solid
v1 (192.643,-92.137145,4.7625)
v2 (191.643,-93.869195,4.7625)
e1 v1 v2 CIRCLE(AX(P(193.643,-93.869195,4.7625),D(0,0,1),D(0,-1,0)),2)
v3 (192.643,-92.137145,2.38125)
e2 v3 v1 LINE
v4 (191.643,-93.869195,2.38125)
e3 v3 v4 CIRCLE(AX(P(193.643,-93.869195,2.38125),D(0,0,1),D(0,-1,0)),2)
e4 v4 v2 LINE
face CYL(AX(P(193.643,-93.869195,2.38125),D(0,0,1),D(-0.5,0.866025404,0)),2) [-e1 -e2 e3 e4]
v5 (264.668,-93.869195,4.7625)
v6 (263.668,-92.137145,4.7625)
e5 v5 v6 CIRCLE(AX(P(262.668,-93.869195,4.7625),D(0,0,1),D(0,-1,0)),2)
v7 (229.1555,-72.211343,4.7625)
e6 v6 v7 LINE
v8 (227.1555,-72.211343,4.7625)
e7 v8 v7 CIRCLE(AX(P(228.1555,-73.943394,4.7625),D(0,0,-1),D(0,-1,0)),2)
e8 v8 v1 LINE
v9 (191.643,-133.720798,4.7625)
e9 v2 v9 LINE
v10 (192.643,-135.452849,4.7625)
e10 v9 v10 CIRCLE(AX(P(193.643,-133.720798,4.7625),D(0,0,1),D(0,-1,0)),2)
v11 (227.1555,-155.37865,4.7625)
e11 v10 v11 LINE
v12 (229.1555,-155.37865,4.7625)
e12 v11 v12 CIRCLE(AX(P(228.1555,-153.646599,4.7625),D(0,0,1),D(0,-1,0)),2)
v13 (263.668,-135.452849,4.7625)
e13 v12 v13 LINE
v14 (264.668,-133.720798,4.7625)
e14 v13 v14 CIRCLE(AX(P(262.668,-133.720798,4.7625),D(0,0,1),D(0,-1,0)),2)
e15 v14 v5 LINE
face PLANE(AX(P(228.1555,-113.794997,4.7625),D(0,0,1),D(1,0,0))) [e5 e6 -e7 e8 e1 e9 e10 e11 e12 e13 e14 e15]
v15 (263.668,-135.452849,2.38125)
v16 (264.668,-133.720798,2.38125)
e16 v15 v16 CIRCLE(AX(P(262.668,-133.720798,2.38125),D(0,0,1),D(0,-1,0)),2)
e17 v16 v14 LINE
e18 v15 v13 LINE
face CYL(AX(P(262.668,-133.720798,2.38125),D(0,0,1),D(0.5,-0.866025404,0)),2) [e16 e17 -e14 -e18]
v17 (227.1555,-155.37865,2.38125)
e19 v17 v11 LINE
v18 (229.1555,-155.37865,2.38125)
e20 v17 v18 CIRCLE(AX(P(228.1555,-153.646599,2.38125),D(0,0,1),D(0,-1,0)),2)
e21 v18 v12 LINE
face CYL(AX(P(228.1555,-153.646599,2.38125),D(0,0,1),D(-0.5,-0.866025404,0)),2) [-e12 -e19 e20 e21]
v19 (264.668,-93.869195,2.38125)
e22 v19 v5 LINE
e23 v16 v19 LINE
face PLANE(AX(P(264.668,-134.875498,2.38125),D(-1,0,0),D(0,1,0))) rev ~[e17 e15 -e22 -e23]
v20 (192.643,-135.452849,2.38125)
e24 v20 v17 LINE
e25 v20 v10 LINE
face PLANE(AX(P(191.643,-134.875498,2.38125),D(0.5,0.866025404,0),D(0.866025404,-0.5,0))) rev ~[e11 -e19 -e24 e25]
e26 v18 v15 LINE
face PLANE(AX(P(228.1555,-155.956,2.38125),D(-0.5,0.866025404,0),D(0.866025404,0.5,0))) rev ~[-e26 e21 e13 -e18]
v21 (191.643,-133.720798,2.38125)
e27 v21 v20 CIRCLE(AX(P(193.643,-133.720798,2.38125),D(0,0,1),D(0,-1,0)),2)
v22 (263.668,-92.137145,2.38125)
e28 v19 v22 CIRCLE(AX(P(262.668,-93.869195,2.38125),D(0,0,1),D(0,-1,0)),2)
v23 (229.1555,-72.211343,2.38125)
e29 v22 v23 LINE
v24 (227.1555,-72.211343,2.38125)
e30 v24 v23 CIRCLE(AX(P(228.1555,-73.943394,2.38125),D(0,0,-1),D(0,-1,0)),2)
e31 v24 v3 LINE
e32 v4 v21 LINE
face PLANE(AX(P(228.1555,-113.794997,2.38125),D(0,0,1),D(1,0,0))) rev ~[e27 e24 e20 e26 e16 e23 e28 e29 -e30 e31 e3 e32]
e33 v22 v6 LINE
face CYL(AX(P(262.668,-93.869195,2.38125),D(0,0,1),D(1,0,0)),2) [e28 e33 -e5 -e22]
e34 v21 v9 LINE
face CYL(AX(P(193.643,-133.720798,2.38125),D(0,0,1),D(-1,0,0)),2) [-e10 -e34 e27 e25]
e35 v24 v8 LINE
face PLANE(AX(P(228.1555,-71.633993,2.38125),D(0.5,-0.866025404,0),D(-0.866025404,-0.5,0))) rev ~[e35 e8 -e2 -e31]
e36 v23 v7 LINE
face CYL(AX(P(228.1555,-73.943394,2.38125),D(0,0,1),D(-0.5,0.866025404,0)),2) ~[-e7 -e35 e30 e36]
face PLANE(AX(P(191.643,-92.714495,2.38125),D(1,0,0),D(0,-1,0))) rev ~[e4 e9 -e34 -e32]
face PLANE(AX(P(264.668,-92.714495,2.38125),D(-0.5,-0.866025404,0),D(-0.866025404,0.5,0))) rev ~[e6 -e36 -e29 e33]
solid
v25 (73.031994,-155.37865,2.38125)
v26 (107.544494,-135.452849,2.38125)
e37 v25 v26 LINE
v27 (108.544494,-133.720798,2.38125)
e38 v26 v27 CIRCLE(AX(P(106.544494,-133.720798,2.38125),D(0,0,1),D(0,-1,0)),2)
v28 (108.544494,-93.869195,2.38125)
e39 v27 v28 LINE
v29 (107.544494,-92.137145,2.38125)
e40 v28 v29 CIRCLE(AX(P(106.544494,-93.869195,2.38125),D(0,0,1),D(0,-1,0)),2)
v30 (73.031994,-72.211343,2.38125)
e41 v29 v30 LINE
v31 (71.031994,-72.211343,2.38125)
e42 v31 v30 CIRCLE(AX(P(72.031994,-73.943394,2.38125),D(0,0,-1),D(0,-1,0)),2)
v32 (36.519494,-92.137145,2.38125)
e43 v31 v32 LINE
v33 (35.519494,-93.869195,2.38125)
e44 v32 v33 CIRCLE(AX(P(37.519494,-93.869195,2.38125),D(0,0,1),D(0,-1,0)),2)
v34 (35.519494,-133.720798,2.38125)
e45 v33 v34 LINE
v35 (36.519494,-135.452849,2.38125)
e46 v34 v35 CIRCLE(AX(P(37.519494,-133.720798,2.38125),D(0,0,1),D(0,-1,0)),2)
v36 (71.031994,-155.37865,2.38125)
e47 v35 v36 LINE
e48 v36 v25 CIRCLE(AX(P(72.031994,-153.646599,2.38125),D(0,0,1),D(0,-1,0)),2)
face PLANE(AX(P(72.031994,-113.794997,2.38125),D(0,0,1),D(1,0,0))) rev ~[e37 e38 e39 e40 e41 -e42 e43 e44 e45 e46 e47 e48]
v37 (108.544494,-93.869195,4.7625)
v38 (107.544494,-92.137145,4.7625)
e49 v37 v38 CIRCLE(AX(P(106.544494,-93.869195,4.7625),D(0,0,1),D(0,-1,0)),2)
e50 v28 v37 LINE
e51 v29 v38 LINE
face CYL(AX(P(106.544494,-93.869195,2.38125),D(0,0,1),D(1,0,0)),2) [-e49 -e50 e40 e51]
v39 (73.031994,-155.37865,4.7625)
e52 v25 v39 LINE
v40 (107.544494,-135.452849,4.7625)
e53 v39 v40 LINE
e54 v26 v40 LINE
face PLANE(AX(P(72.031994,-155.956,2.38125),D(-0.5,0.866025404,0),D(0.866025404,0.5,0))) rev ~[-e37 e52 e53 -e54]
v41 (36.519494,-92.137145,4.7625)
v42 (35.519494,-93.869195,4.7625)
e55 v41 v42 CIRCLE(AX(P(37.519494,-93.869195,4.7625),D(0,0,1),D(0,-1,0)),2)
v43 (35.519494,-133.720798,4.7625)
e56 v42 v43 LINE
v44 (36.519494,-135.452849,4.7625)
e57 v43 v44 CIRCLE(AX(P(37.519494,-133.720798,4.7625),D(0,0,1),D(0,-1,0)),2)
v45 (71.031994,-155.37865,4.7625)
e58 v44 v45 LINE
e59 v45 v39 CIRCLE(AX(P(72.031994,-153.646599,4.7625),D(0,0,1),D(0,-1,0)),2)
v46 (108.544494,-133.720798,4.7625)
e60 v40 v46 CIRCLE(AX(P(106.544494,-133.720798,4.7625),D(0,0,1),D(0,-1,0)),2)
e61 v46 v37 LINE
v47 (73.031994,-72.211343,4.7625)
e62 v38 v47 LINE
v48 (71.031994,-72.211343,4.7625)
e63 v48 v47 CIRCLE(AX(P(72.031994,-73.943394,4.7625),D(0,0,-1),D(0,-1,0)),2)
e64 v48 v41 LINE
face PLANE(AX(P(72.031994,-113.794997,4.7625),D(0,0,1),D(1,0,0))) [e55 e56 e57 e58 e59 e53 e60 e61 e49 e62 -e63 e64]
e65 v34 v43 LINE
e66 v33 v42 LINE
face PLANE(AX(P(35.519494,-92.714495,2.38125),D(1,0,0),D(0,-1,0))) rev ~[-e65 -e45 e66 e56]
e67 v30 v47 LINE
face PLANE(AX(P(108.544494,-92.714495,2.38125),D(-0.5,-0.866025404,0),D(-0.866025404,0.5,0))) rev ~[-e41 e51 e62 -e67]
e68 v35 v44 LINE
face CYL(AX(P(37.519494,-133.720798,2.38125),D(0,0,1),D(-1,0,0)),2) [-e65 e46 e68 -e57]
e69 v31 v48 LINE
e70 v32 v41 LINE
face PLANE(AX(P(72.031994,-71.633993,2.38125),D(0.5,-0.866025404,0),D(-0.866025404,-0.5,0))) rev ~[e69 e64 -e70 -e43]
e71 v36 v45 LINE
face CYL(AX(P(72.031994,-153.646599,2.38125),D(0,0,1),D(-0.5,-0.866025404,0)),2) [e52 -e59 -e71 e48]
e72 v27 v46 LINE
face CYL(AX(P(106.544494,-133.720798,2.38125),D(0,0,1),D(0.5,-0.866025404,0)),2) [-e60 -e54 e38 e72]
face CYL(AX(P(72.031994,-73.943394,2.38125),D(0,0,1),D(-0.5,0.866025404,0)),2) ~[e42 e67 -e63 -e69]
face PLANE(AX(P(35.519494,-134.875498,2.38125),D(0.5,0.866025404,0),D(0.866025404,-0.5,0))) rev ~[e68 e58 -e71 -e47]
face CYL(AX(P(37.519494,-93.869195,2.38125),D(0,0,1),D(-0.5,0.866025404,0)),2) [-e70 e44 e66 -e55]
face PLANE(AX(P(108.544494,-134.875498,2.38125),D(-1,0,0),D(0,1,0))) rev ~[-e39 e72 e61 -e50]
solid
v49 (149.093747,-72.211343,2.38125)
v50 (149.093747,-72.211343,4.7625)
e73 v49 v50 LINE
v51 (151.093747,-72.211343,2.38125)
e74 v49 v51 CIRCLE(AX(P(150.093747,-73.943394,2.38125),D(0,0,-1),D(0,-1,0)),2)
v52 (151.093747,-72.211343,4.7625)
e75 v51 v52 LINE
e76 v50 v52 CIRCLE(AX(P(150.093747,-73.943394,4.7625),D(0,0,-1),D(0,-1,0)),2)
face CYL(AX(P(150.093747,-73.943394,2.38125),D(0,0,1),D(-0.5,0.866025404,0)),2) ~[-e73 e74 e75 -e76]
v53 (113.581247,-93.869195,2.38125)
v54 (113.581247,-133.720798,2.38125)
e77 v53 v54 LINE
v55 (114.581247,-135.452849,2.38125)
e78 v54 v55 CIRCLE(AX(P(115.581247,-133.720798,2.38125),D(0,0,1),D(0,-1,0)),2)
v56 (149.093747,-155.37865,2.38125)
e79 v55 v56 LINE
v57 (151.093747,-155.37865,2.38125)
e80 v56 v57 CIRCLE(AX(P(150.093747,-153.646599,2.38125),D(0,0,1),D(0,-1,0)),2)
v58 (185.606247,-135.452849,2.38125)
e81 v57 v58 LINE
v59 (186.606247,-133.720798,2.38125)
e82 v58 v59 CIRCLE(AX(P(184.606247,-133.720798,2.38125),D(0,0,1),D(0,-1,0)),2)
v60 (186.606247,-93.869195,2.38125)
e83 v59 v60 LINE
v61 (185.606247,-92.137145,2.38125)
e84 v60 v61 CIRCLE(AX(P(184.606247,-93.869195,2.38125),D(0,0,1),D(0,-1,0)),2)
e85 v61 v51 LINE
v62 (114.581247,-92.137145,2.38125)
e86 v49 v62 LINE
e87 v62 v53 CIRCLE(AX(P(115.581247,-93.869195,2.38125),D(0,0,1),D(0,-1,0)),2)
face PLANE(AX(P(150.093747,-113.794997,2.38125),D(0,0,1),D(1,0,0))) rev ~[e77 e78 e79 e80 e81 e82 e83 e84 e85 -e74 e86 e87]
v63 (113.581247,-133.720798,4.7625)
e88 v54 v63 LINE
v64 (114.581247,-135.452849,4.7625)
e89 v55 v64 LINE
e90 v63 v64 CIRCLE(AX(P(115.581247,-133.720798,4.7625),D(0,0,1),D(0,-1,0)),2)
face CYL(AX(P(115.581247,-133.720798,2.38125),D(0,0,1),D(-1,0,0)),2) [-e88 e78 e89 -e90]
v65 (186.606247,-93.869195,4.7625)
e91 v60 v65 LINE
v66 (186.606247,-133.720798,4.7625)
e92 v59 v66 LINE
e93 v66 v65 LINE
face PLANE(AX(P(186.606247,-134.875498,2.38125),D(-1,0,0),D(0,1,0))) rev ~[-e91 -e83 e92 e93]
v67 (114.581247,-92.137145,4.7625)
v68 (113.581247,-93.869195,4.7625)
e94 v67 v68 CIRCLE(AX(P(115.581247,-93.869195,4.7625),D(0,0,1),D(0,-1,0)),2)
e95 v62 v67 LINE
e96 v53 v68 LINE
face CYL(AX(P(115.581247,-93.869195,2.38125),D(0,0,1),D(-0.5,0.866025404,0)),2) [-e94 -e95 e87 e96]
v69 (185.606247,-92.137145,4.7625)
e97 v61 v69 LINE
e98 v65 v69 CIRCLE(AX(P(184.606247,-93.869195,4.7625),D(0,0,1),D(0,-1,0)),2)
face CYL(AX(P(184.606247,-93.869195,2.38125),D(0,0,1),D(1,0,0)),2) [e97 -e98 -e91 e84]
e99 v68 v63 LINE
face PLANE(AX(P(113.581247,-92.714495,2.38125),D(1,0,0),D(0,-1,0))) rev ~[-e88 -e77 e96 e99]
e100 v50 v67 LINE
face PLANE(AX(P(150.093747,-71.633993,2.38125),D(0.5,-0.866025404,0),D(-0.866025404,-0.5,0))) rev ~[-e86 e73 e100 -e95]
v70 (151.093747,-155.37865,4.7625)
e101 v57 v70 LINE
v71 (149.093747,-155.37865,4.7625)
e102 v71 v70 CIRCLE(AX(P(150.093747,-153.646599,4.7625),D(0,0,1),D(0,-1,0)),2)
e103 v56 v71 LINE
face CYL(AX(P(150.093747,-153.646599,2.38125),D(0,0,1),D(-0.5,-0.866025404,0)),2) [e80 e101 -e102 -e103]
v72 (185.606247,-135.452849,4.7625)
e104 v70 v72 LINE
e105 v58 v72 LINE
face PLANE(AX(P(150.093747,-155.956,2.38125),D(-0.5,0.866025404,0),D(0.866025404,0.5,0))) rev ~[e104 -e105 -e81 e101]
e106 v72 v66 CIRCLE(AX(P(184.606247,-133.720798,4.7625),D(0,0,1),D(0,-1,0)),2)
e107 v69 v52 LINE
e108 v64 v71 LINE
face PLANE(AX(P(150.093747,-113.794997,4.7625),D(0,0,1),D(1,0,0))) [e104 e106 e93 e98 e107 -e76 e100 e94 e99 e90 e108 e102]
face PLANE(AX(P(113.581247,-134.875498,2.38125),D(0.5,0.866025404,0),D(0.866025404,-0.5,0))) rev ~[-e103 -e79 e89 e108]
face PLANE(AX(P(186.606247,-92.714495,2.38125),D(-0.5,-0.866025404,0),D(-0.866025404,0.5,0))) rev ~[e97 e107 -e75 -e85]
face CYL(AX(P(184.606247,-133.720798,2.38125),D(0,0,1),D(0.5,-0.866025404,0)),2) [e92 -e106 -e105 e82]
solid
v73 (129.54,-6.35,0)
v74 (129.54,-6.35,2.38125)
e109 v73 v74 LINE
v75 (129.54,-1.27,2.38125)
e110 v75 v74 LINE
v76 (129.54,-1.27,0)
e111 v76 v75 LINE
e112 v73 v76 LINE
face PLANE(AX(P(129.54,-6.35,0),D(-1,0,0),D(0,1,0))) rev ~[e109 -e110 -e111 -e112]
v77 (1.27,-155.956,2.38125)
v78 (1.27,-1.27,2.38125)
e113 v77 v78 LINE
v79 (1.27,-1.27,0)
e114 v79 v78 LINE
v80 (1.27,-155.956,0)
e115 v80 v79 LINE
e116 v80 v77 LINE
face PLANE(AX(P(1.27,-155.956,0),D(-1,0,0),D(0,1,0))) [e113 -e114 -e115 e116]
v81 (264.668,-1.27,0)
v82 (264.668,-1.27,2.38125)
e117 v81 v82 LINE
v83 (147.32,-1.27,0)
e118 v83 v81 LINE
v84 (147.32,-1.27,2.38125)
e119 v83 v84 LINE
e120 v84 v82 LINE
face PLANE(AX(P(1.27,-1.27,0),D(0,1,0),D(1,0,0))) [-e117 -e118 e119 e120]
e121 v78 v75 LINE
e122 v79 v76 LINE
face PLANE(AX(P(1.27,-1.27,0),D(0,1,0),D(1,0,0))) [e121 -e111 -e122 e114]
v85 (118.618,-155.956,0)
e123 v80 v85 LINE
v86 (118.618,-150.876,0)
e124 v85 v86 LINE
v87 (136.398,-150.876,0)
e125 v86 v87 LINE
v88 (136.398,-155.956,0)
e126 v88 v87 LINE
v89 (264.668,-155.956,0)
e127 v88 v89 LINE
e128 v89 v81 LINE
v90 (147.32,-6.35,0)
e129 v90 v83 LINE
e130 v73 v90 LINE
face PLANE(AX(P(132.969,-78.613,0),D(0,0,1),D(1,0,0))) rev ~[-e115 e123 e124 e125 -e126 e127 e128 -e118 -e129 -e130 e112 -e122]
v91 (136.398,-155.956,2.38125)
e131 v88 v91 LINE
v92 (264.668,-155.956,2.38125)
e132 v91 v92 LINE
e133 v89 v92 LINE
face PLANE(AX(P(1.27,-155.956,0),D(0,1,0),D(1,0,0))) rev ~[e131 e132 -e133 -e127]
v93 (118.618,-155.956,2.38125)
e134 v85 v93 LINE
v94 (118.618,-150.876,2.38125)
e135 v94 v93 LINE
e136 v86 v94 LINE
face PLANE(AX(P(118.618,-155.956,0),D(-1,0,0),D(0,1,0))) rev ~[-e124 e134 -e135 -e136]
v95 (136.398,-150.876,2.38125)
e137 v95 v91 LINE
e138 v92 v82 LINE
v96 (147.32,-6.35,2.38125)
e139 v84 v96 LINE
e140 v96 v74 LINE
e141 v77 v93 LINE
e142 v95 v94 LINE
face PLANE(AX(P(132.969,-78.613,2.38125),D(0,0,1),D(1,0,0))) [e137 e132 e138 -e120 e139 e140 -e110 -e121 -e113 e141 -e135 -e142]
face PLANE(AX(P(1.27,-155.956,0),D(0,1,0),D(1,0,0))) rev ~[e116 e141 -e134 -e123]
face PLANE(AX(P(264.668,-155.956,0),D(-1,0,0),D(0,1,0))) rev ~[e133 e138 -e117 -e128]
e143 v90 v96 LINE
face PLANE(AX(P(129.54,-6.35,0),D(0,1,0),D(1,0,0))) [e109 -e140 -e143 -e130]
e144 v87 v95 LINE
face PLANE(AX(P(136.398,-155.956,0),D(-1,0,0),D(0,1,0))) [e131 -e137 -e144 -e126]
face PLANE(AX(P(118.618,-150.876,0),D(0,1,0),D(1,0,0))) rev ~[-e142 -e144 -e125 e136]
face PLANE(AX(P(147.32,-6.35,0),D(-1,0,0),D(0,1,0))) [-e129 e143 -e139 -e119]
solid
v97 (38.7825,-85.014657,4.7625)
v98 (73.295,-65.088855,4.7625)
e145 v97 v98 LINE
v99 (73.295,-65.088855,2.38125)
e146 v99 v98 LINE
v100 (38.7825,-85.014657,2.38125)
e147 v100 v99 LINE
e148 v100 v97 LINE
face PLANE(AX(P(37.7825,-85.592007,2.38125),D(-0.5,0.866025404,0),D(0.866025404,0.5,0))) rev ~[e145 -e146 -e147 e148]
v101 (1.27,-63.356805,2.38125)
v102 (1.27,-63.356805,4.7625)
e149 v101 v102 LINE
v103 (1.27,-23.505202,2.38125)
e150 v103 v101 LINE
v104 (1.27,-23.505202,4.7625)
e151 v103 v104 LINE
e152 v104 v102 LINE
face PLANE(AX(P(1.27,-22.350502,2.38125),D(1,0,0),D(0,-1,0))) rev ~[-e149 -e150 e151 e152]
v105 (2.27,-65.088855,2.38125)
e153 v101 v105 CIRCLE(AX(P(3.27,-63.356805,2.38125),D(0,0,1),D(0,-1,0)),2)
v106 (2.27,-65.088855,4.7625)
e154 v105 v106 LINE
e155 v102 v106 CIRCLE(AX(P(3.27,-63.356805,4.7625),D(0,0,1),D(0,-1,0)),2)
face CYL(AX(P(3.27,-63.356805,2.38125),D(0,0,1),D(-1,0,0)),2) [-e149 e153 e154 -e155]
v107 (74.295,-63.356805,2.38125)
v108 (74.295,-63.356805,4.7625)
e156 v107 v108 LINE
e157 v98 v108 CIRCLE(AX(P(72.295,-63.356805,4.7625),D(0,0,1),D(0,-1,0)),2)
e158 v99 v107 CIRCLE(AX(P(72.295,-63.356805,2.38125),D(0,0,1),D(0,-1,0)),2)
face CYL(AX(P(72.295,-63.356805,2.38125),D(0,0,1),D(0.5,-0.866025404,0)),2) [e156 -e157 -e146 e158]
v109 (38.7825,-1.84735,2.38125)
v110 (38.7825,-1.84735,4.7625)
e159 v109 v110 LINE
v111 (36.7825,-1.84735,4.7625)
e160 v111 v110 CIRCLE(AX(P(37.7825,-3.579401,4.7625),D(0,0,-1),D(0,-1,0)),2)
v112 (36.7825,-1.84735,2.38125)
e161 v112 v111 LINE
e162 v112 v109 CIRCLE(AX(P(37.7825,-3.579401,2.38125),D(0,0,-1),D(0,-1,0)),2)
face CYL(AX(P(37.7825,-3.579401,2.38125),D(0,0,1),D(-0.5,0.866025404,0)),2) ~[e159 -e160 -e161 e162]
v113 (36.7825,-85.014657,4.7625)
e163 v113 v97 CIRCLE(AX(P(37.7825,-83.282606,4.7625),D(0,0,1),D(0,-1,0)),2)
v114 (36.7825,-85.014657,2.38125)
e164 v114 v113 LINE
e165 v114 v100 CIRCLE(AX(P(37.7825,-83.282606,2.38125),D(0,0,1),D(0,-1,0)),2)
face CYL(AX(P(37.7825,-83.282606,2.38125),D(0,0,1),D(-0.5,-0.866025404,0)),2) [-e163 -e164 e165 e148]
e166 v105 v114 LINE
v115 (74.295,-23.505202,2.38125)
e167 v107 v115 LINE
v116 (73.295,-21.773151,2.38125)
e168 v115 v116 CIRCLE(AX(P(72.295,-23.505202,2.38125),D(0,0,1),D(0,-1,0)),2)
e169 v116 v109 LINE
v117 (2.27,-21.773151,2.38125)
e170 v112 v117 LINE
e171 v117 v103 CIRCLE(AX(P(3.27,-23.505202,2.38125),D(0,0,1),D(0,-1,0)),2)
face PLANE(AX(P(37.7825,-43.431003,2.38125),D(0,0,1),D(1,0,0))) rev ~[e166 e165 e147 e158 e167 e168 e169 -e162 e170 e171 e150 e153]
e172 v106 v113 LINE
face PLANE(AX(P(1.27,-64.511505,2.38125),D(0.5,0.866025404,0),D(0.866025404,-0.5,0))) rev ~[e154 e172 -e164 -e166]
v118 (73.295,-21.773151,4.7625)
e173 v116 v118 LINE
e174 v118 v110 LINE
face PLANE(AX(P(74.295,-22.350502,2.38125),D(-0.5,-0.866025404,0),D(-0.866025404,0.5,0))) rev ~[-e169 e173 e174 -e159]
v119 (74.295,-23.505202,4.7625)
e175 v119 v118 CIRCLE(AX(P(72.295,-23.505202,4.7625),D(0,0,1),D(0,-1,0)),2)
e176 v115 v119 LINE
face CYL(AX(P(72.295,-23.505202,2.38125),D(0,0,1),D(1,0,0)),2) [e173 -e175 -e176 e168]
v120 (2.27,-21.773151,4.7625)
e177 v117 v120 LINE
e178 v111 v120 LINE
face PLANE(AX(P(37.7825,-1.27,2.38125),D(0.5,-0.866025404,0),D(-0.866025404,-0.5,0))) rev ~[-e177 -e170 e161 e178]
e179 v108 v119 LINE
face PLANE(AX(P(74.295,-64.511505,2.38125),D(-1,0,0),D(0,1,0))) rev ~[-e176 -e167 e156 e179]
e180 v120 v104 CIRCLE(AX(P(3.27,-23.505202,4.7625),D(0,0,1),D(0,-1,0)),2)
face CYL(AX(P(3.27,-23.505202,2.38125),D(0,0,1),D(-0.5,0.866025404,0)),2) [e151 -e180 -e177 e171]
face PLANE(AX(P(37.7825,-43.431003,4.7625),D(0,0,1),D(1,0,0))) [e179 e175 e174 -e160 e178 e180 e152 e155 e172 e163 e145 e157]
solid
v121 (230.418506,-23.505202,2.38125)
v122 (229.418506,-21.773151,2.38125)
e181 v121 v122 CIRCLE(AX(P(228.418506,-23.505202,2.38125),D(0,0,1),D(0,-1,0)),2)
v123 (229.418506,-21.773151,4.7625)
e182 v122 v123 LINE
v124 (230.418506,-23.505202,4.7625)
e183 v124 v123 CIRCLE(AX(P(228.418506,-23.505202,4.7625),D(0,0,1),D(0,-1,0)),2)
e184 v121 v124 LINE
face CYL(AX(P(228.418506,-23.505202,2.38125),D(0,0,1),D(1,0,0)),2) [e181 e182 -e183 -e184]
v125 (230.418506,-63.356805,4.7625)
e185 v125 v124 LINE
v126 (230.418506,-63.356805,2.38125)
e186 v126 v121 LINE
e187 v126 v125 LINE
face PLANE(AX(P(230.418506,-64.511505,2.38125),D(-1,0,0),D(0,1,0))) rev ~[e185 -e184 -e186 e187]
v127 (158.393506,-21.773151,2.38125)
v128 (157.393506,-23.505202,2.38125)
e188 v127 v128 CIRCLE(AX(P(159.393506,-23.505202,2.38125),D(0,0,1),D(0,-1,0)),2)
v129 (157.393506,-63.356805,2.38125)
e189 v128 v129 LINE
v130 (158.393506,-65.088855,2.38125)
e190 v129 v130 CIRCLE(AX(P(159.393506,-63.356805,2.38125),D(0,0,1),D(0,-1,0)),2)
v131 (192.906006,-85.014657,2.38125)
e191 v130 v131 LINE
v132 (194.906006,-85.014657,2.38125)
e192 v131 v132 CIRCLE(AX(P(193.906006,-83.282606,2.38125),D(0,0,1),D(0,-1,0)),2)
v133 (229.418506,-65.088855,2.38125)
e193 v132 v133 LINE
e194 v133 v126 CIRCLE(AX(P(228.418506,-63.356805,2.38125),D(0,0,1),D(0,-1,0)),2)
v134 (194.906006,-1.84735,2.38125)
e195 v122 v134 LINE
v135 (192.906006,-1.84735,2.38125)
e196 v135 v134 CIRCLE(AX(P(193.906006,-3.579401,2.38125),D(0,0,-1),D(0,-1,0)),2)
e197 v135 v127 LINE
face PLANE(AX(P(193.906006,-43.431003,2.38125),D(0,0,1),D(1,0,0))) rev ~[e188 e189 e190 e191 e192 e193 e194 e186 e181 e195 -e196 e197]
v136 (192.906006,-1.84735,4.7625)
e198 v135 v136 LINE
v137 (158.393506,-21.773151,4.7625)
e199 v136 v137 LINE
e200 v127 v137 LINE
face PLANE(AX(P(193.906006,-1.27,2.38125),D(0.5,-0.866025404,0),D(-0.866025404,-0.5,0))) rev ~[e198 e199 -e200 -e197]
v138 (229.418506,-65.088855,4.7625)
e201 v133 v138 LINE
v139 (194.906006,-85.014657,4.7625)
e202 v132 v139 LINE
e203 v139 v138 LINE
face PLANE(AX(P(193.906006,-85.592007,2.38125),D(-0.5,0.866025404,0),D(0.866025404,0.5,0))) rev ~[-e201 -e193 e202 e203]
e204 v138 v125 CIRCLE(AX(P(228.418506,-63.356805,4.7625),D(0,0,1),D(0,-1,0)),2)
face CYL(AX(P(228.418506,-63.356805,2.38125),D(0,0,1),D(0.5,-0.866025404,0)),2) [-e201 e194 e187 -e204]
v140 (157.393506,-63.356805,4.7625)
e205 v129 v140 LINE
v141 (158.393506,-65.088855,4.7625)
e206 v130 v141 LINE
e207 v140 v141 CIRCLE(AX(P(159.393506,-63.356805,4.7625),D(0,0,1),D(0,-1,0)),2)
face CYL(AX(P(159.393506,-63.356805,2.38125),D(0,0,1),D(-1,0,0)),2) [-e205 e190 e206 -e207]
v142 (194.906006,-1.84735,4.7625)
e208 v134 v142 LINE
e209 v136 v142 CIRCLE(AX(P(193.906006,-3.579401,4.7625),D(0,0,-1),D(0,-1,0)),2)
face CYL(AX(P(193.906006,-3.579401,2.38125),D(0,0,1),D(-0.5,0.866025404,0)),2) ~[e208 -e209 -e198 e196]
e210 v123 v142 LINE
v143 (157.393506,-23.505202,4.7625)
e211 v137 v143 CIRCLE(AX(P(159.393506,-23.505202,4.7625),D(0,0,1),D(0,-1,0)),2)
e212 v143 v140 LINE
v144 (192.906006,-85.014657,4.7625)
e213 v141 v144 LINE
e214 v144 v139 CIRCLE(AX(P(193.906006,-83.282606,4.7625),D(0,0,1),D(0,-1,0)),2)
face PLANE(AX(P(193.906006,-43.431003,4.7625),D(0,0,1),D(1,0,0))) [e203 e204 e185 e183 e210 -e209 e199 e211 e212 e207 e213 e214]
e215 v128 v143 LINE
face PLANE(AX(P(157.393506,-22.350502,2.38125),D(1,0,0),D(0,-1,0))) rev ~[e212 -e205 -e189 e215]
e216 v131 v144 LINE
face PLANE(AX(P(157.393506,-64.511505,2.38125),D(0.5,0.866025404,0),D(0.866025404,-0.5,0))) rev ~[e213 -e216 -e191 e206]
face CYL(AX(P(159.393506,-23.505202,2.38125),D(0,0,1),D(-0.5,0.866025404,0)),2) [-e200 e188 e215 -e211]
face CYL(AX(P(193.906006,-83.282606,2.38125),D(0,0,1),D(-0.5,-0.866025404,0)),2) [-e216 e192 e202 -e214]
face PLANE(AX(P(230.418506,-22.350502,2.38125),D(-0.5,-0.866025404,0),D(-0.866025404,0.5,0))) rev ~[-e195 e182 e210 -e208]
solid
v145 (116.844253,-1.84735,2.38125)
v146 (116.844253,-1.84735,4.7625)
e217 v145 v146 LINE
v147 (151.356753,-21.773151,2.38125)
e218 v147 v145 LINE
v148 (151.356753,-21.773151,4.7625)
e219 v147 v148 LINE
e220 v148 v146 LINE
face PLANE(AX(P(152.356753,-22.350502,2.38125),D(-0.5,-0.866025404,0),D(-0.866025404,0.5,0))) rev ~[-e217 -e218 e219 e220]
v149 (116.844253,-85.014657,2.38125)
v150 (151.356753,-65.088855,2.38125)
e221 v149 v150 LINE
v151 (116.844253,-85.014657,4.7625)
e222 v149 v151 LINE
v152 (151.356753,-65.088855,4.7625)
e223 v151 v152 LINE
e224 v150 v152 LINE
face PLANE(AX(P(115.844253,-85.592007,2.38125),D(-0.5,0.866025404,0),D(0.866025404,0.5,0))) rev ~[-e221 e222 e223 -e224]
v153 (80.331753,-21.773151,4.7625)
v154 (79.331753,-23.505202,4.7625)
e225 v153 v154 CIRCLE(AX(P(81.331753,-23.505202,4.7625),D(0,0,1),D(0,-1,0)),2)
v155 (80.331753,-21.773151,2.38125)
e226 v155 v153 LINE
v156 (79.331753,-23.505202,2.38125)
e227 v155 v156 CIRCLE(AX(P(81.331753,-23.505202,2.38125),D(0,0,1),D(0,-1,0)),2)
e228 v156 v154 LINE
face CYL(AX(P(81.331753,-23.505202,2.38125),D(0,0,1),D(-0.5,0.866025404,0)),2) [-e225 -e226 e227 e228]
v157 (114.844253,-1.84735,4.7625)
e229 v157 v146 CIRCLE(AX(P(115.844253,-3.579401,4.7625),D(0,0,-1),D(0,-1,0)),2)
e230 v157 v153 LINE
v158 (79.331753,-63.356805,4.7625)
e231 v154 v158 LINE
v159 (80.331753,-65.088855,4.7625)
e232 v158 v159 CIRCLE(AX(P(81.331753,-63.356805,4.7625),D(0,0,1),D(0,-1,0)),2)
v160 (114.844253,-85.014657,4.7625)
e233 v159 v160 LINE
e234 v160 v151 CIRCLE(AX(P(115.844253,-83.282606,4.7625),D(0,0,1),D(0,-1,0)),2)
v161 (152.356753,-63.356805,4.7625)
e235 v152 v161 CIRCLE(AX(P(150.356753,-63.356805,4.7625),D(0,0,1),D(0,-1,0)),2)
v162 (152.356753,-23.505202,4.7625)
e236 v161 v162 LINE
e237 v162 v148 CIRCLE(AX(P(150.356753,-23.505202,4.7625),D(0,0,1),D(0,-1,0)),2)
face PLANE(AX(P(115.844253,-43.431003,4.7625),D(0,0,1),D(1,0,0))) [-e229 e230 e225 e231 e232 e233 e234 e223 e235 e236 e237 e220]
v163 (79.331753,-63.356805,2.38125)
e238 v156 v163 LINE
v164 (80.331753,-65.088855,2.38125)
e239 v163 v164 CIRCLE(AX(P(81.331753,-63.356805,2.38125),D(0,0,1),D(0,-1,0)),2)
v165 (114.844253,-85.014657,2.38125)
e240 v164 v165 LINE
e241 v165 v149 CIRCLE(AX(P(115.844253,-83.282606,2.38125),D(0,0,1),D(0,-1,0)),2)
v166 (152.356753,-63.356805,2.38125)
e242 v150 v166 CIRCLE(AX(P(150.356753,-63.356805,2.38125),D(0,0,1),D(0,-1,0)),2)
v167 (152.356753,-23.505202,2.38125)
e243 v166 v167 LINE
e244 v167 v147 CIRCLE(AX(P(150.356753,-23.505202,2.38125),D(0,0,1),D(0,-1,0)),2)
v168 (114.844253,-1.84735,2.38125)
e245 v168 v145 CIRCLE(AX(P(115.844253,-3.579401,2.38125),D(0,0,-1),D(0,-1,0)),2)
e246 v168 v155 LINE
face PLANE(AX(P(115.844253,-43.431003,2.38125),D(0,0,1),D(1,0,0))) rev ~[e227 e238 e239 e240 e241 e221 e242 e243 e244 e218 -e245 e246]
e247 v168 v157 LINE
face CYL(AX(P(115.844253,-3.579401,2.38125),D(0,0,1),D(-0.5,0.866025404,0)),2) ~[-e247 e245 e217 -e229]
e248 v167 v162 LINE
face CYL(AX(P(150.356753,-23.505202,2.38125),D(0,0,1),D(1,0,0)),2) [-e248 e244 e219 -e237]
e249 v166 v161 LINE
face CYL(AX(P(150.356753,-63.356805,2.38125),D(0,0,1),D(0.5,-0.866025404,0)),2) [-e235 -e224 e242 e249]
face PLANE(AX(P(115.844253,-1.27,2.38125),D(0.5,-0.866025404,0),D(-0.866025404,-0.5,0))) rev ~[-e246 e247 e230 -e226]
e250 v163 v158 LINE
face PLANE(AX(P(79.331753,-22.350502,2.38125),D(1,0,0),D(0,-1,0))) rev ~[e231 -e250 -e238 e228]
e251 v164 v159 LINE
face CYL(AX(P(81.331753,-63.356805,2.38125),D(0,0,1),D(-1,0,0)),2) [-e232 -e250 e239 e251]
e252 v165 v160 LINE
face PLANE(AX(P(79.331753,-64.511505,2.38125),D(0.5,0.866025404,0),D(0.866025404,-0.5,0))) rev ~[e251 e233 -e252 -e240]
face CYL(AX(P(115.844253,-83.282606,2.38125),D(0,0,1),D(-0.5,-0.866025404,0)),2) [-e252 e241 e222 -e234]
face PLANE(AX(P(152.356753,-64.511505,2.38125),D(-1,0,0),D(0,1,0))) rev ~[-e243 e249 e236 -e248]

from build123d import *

# Parameters (mm, degrees)
F0_W     = 263.398
F0_H     = 154.686
F1_DEPTH = 2.38125
F3_DEPTH = 2.38125
F2_W     = 17.78
F2_H     = 5.08
F4_R     = 2
F4_2_R   = 2
F4_3_R   = 2
F4_4_R   = 2
F4_5_R   = 2
F4_6_R   = 2
F5_W     = 17.78
F5_H     = 5.08
F6_DEPTH = 4.7635


with BuildPart() as f1:
    # F0 (on Top) → F1 (new body)
    with BuildSketch(Plane.XY):
        with Locations((132.969, -78.613)):
            Rectangle(F0_W, F0_H)
    extrude(amount=F1_DEPTH)


with BuildPart() as f3:
    # F2 (on face) → F3 (new body)
    with BuildSketch(Plane.XY.offset(2.38125)):
        Polygon((37.7825, -1.27), (1.27, -22.3505017038), (1.27, -64.5115051114), (37.7825, -85.5920068151), (74.295, -64.5115051114), (74.295, -22.3505017038), align=None)
    extrude(amount=F3_DEPTH)

    # F4
    f4_edges = [f3.edges().sort_by_distance(p)[0] for p in [
        (37.7825, -85.592007, 3.571875),
        (1.27, -64.511505, 3.571875),
        (74.295, -64.511505, 3.571875),
        (37.7825, -1.27, 3.571875),
        (1.27, -22.350502, 3.571875),
        (74.295, -22.350502, 3.571875),
    ]]
    fillet(f4_edges, radius=F4_R)


with BuildPart() as f3b:
    # F2 (on face) → F3, piece 2 (new body)
    with BuildSketch(Plane.XY.offset(2.38125)):
        Polygon((228.1555, -71.6339931849), (191.643, -92.7144948886), (191.643, -134.8754982962), (228.1555, -155.956), (264.668, -134.8754982962), (264.668, -92.7144948886), align=None)
    extrude(amount=F3_DEPTH)

    # F4#6
    f4_6_edges = [f3b.edges().sort_by_distance(p)[0] for p in [
        (191.643, -134.875498, 3.571875),
        (228.1555, -155.956, 3.571875),
        (264.668, -134.875498, 3.571875),
        (191.643, -92.714495, 3.571875),
        (228.1555, -71.633993, 3.571875),
        (264.668, -92.714495, 3.571875),
    ]]
    fillet(f4_6_edges, radius=F4_6_R)


with BuildPart() as f3c:
    # F2 (on face) → F3, piece 3 (new body)
    with BuildSketch(Plane.XY.offset(2.38125)):
        Polygon((150.0937471951, -71.6339931849), (113.5812471951, -92.7144948886), (113.5812471951, -134.8754982962), (150.0937471951, -155.956), (186.6062471951, -134.8754982962), (186.6062471951, -92.7144948886), align=None)
    extrude(amount=F3_DEPTH)

    # F4#3
    f4_3_edges = [f3c.edges().sort_by_distance(p)[0] for p in [
        (113.581247, -134.875498, 3.571875),
        (150.093747, -155.956, 3.571875),
        (186.606247, -134.875498, 3.571875),
        (113.581247, -92.714495, 3.571875),
        (150.093747, -71.633993, 3.571875),
        (186.606247, -92.714495, 3.571875),
    ]]
    fillet(f4_3_edges, radius=F4_3_R)


with BuildPart() as f3d:
    # F2 (on face) → F3, piece 4 (new body)
    with BuildSketch(Plane.XY.offset(2.38125)):
        Polygon((193.9060056098, -1.27), (157.3935056098, -22.3505017038), (157.3935056098, -64.5115051114), (193.9060056098, -85.5920068151), (230.4185056098, -64.5115051114), (230.4185056098, -22.3505017038), align=None)
    extrude(amount=F3_DEPTH)

    # F4#5
    f4_5_edges = [f3d.edges().sort_by_distance(p)[0] for p in [
        (157.393506, -64.511505, 3.571875),
        (193.906006, -85.592007, 3.571875),
        (230.418506, -64.511505, 3.571875),
        (157.393506, -22.350502, 3.571875),
        (230.418506, -22.350502, 3.571875),
        (193.906006, -1.27, 3.571875),
    ]]
    fillet(f4_5_edges, radius=F4_5_R)


with BuildPart() as f3e:
    # F2 (on face) → F3, piece 5 (new body)
    with BuildSketch(Plane.XY.offset(2.38125)):
        Polygon((72.0319943902, -71.6339931849), (35.5194943902, -92.7144948886), (35.5194943902, -134.8754982962), (72.0319943902, -155.956), (108.5444943902, -134.8754982962), (108.5444943902, -92.7144948886), align=None)
    extrude(amount=F3_DEPTH)

    # F4#2
    f4_2_edges = [f3e.edges().sort_by_distance(p)[0] for p in [
        (35.519494, -134.875498, 3.571875),
        (72.031994, -155.956, 3.571875),
        (108.544494, -134.875498, 3.571875),
        (35.519494, -92.714495, 3.571875),
        (72.031994, -71.633993, 3.571875),
        (108.544494, -92.714495, 3.571875),
    ]]
    fillet(f4_2_edges, radius=F4_2_R)


with BuildPart() as f3f:
    # F2 (on face) → F3, piece 6 (new body)
    with BuildSketch(Plane.XY.offset(2.38125)):
        Polygon((115.8442528049, -1.27), (79.3317528049, -22.3505017038), (79.3317528049, -64.5115051114), (115.8442528049, -85.5920068151), (152.3567528049, -64.5115051114), (152.3567528049, -22.3505017038), align=None)
    extrude(amount=F3_DEPTH)

    # F4#4
    f4_4_edges = [f3f.edges().sort_by_distance(p)[0] for p in [
        (152.356753, -64.511505, 3.571875),
        (79.331753, -64.511505, 3.571875),
        (115.844253, -85.592007, 3.571875),
        (79.331753, -22.350502, 3.571875),
        (115.844253, -1.27, 3.571875),
        (152.356753, -22.350502, 3.571875),
    ]]
    fillet(f4_4_edges, radius=F4_4_R)


with BuildPart() as f3g:
    # F2 (on face) → F3, piece 7 (new body)
    with BuildSketch(Plane.XY.offset(2.38125)):
        with Locations((127.508, -153.416)):
            Rectangle(F2_W, F2_H)
    extrude(amount=F3_DEPTH)


with BuildPart() as f3h:
    # F2 (on face) → F3, piece 8 (new body)
    with BuildSketch(Plane.XY.offset(2.38125)):
        with Locations((138.43, -3.81)):
            Rectangle(F2_W, F2_H)
    extrude(amount=F3_DEPTH)


with BuildPart() as f6_tool:
    # F5 (on face) → F6 (new body, through all)
    with BuildSketch(Plane.XY):
        with Locations((127.508, -153.416)):
            Rectangle(F5_W, F5_H)
        with Locations((138.43, -3.81)):
            Rectangle(F5_W, F5_H)
    extrude(amount=F6_DEPTH)


with BuildPart() as f1_1:
    add(f1.part)

    # F6: cut by f6_tool
    add(f6_tool.part, mode=Mode.SUBTRACT)


with BuildPart() as f3g_1:
    add(f3g.part)

    # F6: cut by f6_tool
    add(f6_tool.part, mode=Mode.SUBTRACT)


with BuildPart() as f3h_1:
    add(f3h.part)

    # F6: cut by f6_tool
    add(f6_tool.part, mode=Mode.SUBTRACT)


solid = Compound([f3.part, f3b.part, f3c.part, f3d.part, f3e.part, f3f.part, f1_1.part])
